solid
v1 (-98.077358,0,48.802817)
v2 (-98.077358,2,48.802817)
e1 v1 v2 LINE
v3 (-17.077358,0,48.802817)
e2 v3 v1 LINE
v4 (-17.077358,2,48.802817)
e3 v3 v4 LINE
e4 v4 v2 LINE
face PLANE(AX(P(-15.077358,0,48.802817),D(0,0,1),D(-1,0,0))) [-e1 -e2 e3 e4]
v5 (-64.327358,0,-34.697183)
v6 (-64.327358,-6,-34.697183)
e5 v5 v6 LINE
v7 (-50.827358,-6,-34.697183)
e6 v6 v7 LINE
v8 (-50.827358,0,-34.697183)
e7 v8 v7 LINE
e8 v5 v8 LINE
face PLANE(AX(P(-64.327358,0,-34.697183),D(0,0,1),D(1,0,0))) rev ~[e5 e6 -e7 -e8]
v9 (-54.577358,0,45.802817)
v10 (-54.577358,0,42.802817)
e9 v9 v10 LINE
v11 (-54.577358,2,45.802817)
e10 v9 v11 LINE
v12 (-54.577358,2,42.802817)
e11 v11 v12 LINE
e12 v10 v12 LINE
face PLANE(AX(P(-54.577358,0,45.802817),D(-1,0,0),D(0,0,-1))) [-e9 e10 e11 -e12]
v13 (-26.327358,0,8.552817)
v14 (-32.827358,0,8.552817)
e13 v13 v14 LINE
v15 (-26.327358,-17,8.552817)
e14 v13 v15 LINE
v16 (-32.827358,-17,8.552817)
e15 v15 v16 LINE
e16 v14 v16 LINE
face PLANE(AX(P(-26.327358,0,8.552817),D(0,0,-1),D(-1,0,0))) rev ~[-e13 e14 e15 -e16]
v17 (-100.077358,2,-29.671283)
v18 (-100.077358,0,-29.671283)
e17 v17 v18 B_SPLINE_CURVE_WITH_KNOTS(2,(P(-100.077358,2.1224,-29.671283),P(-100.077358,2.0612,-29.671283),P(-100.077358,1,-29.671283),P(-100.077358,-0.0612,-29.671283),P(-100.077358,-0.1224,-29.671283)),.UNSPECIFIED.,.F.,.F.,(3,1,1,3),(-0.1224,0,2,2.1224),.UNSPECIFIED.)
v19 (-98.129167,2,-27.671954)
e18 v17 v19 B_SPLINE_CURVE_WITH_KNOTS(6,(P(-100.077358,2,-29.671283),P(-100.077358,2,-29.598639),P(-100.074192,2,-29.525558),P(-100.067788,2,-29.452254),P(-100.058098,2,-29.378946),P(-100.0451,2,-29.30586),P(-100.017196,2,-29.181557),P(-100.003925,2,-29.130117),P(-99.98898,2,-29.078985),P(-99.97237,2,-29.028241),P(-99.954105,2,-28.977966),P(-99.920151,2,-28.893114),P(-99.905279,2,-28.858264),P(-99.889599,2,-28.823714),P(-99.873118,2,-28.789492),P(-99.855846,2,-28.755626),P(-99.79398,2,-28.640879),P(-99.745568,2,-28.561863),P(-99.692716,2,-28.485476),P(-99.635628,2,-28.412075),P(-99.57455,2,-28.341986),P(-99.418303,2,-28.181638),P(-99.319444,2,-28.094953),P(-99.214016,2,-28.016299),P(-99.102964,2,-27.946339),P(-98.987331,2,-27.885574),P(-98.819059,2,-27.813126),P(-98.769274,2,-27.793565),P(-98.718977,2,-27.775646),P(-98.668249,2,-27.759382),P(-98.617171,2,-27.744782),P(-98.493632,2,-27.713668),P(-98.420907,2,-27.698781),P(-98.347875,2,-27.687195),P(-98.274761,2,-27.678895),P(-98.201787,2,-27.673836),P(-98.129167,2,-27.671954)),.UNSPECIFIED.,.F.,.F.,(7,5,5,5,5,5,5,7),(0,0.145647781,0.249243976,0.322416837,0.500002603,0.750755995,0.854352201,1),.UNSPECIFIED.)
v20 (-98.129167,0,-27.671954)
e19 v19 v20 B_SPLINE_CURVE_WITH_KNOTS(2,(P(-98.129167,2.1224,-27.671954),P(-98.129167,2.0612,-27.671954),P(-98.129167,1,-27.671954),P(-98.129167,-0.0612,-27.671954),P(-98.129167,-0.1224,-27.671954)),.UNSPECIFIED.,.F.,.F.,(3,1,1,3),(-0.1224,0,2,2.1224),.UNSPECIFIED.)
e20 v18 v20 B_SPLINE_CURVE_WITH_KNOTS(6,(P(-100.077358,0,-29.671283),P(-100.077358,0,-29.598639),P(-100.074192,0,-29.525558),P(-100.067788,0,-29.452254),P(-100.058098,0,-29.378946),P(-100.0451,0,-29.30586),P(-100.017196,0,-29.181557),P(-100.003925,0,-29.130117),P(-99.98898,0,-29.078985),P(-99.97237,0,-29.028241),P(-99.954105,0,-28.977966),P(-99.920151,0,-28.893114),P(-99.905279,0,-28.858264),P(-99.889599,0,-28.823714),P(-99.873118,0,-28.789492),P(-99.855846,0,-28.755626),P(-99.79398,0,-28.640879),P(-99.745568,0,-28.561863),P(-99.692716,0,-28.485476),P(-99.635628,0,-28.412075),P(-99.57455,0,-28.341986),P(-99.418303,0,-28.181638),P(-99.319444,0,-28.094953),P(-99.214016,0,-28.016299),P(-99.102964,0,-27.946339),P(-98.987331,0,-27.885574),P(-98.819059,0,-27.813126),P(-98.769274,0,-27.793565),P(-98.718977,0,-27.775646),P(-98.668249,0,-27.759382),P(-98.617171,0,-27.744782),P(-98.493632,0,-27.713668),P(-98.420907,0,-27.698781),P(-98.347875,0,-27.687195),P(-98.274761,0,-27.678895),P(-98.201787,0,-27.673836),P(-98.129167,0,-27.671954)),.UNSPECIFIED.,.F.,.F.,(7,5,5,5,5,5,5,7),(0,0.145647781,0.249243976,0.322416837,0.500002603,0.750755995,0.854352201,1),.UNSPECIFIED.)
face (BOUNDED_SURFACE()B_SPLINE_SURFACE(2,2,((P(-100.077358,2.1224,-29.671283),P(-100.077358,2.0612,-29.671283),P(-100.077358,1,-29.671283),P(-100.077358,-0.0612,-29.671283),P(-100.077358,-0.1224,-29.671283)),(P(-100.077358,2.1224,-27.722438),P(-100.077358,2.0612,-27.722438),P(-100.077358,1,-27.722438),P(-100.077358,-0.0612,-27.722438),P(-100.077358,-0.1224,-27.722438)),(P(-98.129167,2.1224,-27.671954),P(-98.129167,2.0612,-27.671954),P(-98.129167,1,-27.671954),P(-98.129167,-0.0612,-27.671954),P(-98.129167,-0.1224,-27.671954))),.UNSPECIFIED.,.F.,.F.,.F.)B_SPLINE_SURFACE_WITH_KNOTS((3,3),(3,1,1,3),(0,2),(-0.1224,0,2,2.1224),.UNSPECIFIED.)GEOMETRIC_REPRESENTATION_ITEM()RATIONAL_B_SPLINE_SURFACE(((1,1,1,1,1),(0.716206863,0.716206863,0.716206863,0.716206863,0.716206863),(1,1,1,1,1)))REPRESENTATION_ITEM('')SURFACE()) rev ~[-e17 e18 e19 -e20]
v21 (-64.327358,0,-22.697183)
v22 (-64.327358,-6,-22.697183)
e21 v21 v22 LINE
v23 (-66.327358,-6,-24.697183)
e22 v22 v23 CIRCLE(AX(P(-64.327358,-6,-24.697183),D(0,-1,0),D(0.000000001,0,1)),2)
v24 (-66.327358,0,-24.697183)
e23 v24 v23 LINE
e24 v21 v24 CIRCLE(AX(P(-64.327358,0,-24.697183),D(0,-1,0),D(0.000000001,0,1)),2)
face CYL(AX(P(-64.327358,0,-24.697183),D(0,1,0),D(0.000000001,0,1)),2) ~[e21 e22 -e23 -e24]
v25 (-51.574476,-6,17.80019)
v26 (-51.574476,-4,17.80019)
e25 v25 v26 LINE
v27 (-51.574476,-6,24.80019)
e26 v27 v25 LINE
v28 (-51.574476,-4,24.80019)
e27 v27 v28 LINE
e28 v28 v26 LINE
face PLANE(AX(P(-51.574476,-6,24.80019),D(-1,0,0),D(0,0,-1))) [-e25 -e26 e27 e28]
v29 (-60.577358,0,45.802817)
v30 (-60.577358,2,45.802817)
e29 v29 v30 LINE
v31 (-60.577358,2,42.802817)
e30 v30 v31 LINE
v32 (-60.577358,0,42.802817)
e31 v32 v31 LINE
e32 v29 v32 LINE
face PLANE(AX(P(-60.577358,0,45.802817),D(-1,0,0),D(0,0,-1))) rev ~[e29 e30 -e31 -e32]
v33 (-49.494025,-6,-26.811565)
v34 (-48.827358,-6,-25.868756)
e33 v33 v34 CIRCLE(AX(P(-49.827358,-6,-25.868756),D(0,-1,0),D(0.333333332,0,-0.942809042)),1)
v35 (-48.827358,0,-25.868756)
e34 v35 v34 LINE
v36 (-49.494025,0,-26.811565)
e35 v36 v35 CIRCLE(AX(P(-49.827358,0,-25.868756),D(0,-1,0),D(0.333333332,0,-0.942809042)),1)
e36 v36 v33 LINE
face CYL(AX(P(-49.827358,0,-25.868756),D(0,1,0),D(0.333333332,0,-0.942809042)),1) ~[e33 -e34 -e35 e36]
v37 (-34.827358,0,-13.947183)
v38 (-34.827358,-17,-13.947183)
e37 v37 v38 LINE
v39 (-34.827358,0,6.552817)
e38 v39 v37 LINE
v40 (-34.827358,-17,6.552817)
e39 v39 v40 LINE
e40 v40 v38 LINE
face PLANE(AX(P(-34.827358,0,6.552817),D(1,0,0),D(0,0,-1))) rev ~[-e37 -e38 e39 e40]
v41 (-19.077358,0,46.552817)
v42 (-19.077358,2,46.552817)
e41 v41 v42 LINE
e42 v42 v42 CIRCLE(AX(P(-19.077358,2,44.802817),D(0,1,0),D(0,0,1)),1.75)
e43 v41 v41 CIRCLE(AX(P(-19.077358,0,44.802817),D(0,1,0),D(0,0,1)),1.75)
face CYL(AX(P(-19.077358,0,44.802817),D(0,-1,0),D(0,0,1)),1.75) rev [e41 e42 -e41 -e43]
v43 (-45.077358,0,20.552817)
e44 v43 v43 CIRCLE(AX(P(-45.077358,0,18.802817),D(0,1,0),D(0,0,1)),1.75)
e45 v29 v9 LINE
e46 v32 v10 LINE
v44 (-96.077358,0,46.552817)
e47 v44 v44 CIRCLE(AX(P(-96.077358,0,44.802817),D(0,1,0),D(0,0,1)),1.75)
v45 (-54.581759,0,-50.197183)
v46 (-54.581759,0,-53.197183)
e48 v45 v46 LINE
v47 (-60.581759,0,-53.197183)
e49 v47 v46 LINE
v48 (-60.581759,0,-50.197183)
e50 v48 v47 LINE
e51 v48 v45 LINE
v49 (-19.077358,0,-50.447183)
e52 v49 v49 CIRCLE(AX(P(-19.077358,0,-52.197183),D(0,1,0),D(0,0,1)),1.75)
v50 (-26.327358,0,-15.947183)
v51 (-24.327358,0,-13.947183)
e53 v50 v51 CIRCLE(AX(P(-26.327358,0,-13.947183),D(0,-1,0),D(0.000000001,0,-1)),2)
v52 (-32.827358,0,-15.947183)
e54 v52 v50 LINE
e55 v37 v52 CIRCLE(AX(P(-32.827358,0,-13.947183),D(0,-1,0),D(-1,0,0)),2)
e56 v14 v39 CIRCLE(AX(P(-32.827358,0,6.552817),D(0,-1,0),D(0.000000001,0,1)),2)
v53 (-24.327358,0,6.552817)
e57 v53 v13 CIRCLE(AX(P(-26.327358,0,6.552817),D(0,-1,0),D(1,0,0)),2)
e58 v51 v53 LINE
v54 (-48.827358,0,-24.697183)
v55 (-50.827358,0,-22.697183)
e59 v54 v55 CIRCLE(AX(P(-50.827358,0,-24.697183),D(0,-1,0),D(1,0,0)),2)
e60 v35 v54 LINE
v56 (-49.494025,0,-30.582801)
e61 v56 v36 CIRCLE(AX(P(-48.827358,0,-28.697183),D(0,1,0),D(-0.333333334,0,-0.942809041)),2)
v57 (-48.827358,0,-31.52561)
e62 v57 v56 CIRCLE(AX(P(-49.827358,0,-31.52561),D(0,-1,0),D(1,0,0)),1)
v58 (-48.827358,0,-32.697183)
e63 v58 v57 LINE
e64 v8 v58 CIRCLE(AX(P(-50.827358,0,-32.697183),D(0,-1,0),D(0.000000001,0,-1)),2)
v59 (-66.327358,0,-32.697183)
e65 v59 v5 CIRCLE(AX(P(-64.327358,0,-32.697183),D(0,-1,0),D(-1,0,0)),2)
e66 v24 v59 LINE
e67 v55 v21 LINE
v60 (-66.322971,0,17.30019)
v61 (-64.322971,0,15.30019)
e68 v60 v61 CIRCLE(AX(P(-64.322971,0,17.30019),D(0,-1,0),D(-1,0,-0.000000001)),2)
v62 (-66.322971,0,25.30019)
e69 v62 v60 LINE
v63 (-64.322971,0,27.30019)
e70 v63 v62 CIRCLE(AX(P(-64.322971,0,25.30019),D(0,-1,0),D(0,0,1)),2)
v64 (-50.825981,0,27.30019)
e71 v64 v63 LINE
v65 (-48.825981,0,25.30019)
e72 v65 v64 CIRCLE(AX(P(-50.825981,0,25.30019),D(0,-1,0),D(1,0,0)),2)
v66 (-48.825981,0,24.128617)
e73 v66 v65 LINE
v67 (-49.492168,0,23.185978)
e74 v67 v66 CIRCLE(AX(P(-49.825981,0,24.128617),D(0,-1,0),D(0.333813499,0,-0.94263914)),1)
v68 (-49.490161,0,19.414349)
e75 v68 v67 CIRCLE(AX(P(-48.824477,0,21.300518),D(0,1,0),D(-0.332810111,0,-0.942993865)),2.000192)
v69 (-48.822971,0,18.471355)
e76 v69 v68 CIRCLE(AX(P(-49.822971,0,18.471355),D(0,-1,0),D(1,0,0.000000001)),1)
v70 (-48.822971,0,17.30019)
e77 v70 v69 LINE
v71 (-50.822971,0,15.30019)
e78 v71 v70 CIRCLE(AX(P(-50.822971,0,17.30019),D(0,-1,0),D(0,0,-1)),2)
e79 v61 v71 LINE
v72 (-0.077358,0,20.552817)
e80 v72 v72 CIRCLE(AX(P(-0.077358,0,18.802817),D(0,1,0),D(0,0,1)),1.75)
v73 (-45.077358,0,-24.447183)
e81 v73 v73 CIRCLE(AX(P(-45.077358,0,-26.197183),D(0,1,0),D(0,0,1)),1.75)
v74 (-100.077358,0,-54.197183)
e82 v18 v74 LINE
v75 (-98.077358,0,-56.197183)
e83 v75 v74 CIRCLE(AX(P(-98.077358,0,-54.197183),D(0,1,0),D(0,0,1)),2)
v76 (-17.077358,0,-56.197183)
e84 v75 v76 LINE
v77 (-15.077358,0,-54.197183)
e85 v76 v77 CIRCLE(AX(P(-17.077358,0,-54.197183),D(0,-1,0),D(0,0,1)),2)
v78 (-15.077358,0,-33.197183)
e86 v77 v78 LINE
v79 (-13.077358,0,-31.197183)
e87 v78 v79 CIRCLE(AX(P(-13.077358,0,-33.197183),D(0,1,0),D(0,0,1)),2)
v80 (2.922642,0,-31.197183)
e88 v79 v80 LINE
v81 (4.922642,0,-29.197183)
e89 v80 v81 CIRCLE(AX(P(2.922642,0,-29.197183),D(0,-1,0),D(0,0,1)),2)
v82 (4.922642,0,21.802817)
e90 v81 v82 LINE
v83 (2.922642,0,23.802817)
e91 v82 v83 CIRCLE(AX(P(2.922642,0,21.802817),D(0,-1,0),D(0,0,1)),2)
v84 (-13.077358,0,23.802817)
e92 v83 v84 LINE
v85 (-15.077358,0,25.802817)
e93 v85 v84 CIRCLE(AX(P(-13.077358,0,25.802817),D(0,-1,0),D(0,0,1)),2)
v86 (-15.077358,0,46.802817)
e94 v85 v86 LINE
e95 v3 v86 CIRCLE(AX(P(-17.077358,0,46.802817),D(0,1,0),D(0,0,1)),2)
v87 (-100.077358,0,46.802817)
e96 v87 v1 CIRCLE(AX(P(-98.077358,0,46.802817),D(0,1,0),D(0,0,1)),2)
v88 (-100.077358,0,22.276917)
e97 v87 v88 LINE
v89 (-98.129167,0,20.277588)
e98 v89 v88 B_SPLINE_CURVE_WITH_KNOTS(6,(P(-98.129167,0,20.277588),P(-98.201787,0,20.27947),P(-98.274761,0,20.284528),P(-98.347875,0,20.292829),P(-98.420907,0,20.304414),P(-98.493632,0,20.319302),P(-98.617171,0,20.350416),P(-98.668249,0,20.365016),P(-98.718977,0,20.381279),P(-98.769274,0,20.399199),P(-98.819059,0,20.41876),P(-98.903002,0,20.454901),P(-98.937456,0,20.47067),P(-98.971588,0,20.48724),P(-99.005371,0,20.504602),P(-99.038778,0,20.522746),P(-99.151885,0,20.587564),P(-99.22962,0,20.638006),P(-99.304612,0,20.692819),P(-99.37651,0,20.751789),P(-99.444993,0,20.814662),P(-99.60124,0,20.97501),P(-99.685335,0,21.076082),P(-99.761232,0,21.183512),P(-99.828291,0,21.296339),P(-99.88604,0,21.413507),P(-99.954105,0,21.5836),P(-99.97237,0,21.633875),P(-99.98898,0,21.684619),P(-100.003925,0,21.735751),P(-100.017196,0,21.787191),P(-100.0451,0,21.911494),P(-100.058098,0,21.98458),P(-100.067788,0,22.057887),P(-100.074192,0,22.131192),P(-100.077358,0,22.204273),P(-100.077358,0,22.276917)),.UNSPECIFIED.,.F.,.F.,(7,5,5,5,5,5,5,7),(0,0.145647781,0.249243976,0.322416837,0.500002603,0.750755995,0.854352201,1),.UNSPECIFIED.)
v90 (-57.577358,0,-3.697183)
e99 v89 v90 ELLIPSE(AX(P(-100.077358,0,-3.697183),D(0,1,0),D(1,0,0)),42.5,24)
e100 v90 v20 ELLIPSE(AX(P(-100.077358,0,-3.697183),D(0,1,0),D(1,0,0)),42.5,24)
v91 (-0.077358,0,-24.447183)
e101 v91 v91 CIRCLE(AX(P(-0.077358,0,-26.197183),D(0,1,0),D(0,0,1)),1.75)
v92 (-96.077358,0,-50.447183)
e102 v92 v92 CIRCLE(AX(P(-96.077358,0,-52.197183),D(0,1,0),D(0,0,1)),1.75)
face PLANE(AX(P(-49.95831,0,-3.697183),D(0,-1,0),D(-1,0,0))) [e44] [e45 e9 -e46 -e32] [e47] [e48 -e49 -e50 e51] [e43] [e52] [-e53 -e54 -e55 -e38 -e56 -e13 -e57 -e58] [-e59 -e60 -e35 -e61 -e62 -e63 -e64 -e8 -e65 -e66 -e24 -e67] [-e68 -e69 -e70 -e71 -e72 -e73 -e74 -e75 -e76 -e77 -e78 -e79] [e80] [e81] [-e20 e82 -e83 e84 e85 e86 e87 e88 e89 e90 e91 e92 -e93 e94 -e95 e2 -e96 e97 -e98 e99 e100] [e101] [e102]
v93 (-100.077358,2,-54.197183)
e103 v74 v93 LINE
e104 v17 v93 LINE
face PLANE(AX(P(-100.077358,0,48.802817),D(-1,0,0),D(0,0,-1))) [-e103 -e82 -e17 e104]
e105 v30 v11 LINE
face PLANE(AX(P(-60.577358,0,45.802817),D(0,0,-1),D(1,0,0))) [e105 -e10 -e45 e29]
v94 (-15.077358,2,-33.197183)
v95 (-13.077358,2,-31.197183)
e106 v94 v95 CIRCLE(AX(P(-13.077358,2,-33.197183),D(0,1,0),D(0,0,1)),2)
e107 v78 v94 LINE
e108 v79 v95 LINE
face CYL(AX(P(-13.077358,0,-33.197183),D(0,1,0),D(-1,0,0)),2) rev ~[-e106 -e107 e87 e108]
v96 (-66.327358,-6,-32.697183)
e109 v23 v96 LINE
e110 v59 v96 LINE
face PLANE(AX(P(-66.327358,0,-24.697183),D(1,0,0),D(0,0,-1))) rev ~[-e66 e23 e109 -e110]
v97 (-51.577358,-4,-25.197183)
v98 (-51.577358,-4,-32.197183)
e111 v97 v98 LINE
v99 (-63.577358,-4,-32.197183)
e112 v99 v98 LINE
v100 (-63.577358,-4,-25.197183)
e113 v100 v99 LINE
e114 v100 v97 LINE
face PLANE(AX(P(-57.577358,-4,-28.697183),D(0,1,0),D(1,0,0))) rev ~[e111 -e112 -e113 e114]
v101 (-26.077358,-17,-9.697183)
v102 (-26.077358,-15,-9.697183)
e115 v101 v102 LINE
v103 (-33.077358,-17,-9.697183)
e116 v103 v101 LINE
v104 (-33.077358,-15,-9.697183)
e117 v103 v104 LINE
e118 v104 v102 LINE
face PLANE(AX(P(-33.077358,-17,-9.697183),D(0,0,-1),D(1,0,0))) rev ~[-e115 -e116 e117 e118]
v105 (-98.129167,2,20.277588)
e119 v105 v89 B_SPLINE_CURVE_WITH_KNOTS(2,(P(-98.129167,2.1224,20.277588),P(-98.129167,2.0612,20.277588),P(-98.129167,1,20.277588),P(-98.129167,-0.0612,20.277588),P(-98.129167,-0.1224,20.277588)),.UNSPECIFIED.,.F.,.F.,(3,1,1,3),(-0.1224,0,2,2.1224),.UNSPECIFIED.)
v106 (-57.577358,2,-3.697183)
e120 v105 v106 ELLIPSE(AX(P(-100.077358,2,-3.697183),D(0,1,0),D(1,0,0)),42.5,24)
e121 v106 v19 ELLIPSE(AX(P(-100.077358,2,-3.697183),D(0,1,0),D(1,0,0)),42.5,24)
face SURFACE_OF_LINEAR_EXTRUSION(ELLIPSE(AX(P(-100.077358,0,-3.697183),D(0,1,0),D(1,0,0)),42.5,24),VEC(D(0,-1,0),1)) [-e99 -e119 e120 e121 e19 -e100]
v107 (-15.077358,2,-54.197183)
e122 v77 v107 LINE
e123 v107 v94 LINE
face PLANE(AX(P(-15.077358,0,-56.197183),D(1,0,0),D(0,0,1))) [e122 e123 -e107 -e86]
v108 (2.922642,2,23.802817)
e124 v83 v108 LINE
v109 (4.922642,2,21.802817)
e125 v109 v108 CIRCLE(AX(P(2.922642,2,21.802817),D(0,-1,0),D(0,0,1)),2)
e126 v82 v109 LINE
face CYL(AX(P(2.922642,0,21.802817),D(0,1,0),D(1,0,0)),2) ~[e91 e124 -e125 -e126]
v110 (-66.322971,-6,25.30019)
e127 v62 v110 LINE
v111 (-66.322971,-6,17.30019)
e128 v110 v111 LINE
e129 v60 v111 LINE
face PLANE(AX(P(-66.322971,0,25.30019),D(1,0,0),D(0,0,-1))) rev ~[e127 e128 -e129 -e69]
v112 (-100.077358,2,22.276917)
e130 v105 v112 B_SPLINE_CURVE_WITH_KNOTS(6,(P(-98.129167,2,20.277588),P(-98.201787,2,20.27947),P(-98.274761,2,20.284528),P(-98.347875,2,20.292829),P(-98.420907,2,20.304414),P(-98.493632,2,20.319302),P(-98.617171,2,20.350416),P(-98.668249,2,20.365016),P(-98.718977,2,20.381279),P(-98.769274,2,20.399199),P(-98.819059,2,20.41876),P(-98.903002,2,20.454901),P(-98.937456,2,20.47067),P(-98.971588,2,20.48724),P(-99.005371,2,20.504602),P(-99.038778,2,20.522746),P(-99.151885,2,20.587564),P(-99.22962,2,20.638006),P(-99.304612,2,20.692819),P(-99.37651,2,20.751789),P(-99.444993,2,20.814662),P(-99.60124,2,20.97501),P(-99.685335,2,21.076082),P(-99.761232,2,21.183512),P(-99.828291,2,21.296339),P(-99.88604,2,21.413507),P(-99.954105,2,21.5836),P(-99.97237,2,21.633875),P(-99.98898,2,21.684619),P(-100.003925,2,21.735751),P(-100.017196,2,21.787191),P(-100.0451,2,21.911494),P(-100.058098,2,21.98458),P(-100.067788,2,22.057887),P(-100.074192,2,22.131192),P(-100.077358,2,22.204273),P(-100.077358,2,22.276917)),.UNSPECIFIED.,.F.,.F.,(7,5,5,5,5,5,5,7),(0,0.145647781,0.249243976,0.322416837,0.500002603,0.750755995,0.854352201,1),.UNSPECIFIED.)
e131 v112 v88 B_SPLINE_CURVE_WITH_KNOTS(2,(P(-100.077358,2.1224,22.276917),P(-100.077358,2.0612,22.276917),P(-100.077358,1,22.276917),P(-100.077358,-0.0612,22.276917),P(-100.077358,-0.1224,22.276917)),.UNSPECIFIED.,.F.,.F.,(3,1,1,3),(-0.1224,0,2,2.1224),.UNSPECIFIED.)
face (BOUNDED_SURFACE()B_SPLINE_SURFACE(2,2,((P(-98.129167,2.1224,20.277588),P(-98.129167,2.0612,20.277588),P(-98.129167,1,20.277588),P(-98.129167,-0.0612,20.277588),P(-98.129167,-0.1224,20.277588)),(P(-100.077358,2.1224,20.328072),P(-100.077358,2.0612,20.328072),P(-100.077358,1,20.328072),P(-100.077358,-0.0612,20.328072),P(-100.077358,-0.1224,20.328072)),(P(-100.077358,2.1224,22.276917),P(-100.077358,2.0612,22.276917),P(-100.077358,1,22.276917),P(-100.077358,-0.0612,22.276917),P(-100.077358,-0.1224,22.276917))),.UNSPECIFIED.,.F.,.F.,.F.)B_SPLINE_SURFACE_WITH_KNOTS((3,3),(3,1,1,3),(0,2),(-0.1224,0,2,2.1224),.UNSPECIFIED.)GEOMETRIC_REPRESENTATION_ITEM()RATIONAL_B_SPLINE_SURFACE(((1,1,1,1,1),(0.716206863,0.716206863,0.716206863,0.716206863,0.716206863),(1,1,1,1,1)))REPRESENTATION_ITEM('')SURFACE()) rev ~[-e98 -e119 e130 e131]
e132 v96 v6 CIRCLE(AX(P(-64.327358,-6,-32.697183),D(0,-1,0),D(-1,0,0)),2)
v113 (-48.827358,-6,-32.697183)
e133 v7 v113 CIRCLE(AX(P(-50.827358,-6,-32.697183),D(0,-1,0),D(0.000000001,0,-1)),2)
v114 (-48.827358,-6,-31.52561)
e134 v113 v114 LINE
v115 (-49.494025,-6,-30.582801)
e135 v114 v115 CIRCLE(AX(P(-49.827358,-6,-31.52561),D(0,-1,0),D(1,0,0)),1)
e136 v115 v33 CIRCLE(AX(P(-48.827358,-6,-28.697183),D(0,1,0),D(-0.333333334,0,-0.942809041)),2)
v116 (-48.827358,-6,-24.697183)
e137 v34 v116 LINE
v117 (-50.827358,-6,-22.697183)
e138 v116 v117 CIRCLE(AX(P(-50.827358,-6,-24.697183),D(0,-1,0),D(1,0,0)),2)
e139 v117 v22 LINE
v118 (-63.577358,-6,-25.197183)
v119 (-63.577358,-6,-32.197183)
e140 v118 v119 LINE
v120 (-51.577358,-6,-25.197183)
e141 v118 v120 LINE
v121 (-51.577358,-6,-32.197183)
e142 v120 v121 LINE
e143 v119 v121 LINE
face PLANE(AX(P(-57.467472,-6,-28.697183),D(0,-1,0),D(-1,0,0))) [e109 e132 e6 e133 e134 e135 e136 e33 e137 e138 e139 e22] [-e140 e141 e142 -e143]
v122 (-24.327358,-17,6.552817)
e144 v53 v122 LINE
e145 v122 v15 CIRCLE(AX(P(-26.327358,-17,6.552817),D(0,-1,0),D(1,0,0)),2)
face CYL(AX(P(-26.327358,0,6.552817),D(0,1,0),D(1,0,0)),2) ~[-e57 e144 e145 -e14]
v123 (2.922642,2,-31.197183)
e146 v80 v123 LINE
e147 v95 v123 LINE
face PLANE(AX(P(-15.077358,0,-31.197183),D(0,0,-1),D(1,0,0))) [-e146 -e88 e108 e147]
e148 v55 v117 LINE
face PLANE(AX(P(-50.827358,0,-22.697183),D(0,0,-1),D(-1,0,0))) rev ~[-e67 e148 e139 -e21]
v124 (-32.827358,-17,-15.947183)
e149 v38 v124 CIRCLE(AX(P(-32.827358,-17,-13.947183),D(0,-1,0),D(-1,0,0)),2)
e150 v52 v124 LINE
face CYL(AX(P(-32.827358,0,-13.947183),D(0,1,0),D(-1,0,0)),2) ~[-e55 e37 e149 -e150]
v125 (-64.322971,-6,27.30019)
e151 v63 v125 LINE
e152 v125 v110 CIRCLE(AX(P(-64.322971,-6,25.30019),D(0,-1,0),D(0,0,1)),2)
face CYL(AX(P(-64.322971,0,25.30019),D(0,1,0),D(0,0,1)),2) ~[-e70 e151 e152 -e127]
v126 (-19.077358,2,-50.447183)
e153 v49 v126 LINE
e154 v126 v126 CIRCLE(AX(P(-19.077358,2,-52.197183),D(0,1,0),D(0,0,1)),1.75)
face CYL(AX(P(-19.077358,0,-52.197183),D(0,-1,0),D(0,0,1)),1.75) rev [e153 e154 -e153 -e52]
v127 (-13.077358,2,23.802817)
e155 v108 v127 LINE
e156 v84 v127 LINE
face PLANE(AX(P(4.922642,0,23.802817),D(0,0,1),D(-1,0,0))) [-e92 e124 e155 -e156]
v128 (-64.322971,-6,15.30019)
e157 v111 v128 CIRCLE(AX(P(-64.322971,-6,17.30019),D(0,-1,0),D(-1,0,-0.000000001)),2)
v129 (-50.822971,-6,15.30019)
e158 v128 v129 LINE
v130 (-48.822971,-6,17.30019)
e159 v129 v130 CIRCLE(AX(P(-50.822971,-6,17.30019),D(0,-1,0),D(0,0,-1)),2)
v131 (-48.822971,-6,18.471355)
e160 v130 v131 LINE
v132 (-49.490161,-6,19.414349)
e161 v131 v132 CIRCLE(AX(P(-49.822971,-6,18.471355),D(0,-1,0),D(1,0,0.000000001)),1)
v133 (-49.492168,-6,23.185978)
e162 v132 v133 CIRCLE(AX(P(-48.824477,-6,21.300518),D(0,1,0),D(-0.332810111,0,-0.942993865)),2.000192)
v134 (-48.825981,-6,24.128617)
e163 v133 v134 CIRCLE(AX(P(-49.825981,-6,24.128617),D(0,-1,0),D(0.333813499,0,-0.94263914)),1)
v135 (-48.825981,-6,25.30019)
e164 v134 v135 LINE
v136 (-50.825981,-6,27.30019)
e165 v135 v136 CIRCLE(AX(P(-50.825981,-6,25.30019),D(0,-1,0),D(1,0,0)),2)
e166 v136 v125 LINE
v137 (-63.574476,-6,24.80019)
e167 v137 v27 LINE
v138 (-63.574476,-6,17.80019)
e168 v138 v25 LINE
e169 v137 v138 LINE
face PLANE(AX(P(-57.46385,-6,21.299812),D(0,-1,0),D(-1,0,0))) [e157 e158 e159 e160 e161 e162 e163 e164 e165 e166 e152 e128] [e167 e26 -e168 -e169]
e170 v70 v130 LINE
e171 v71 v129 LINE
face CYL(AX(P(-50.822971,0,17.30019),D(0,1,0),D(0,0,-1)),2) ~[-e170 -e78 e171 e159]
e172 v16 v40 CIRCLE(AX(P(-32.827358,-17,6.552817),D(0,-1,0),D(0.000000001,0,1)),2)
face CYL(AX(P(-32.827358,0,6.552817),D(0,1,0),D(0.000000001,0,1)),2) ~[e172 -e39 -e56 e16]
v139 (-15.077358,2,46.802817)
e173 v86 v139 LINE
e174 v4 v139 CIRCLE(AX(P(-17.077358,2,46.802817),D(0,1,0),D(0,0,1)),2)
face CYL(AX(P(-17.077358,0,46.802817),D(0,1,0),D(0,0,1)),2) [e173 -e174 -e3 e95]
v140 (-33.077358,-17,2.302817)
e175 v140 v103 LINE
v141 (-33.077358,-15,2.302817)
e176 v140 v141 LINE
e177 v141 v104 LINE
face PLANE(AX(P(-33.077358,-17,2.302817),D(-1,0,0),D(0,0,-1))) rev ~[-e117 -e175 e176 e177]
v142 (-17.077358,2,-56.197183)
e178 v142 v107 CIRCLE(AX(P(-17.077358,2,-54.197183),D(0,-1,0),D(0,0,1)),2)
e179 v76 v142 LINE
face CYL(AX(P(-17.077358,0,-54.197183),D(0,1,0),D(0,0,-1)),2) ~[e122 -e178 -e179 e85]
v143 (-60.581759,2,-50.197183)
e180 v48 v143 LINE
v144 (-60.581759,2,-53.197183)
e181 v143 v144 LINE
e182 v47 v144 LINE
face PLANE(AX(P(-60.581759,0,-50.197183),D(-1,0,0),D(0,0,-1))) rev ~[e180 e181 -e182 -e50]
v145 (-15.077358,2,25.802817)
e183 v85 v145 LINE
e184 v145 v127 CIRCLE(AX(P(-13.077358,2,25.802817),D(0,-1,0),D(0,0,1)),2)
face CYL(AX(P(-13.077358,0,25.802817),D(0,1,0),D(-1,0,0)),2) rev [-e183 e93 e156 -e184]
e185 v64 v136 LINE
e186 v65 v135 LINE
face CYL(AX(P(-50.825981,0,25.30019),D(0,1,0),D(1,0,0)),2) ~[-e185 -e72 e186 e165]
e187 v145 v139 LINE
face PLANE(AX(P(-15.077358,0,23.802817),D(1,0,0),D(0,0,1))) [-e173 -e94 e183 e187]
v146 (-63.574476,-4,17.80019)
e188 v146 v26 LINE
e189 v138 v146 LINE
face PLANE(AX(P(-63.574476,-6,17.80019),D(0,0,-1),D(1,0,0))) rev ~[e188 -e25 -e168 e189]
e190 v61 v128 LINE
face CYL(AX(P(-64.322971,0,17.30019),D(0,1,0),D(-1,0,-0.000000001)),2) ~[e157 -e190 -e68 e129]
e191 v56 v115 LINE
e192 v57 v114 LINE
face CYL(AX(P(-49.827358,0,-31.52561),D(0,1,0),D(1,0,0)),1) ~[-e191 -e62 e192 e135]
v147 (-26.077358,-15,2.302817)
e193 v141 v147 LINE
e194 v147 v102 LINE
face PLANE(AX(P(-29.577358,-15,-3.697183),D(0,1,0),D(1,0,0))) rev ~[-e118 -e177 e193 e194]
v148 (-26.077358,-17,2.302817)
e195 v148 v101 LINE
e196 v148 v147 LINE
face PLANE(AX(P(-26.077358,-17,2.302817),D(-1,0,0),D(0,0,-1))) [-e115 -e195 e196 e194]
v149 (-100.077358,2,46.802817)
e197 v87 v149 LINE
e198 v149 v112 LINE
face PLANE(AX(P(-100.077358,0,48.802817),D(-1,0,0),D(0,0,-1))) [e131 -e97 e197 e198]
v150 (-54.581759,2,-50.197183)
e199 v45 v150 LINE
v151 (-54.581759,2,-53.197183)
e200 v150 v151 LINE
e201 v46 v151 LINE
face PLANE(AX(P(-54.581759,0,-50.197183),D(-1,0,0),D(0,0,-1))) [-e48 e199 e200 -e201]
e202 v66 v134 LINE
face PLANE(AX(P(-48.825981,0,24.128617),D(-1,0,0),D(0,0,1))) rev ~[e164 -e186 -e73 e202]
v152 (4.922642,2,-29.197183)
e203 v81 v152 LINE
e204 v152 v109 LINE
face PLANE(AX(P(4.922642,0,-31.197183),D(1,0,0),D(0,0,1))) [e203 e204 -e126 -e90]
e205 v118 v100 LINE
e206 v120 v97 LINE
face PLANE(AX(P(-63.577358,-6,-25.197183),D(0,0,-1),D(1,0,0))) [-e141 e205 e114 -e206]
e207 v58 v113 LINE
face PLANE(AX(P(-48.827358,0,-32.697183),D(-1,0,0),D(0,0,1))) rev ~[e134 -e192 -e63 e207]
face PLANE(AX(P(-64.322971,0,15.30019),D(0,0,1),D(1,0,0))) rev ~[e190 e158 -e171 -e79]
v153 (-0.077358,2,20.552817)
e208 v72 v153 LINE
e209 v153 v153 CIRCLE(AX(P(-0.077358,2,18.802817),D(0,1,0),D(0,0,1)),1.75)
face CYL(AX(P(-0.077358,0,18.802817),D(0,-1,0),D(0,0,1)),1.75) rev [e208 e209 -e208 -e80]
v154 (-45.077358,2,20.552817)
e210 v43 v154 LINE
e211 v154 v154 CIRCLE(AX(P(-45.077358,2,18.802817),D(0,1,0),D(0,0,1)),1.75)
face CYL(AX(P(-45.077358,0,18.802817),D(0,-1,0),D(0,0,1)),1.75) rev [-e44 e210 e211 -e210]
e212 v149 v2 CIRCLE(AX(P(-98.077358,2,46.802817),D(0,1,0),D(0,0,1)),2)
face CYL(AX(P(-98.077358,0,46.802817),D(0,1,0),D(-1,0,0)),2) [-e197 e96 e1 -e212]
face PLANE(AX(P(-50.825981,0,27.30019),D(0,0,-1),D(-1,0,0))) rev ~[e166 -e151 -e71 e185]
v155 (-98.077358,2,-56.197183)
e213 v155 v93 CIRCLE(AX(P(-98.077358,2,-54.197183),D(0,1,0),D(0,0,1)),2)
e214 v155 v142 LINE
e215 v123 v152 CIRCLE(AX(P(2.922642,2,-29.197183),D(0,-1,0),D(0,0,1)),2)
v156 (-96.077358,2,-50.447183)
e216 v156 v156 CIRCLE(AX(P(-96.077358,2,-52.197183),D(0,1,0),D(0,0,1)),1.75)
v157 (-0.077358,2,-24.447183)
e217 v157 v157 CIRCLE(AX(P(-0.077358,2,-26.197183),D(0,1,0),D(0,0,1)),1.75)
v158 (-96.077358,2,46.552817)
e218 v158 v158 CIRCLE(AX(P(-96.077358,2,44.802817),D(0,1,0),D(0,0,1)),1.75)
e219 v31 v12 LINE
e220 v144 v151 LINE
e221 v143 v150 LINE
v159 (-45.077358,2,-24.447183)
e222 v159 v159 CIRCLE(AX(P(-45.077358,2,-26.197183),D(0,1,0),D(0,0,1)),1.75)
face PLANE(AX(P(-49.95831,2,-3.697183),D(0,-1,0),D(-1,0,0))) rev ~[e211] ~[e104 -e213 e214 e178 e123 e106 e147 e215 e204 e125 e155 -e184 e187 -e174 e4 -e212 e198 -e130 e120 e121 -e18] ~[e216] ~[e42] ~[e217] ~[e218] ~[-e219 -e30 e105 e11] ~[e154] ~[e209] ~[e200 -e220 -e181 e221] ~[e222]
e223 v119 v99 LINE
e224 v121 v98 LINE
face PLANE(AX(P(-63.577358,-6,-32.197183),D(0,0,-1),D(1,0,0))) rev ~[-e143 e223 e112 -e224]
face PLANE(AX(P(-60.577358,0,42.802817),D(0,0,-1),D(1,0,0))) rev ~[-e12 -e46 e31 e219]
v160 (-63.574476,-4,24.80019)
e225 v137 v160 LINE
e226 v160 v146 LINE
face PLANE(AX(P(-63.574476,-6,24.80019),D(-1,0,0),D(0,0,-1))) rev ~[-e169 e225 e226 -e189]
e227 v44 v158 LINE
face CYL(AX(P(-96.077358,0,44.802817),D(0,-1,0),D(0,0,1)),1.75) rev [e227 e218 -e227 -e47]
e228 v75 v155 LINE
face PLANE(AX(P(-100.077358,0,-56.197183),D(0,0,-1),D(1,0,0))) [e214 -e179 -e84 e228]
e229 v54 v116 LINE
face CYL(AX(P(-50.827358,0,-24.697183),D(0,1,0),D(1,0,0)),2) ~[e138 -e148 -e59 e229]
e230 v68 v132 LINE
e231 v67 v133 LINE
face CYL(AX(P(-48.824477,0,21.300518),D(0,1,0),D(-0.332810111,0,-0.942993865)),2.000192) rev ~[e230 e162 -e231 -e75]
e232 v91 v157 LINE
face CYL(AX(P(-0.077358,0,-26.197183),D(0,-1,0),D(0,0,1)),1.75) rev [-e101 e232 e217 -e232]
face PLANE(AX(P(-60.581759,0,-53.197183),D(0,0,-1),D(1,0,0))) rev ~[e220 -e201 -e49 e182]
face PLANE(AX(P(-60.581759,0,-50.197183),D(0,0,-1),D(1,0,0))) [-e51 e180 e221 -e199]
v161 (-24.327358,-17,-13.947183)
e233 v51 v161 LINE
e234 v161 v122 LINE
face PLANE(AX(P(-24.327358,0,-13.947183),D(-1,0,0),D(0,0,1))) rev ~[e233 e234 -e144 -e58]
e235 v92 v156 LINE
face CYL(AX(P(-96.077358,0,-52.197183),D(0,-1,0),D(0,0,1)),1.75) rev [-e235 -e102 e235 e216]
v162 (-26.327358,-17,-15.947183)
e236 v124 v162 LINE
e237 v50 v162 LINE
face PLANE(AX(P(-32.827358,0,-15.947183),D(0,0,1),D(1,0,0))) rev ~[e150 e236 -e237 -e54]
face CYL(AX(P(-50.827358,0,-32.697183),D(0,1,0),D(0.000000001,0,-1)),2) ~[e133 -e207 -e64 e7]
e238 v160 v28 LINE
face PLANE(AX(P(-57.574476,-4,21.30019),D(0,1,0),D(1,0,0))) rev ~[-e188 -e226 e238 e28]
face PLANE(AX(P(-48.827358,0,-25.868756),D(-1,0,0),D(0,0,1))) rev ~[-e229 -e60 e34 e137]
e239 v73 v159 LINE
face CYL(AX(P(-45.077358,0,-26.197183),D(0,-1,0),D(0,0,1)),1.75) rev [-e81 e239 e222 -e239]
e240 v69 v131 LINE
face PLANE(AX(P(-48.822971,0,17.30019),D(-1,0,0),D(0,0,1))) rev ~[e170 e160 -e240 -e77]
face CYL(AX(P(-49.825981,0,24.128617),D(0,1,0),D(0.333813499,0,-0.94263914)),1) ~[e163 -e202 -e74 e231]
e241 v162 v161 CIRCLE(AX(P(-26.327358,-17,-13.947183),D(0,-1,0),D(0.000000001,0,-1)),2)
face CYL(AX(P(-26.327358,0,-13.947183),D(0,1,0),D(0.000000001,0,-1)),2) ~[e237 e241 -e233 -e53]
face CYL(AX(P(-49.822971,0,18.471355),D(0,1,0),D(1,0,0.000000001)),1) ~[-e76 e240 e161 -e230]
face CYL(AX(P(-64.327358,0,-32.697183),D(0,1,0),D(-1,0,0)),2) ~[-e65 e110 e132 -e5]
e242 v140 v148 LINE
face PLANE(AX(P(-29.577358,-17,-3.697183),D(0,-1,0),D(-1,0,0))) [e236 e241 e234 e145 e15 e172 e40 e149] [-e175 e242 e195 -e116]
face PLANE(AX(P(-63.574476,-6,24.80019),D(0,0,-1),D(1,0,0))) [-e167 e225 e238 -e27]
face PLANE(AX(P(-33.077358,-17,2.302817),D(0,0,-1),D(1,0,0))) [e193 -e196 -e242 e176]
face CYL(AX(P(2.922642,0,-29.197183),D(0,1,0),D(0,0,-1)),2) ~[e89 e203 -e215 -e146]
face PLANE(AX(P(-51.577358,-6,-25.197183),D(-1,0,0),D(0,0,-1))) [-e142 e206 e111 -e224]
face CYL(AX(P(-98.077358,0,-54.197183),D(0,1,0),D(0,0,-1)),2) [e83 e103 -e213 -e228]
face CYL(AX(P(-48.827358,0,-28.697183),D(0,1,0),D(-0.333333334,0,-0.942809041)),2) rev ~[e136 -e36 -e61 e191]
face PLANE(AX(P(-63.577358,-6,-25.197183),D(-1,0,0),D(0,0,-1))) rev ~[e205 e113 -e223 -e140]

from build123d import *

# Parameters (mm, degrees)
SKETCH1_R           = 1.75
SKETCH1_W           = 6
SKETCH1_H           = 3
BOSS_EXTRUDE1_DEPTH = 2
BOSS_EXTRUDE2_DEPTH = 6
SKETCH4_RX          = 42.5
SKETCH4_RY          = 24
CUT_EXTRUDE1_DEPTH  = 2
BOSS_EXTRUDE3_DEPTH = 17
FILLET1_R           = 2
CUT_EXTRUDE2_START  = -6
SKETCH2_3_W         = 12
SKETCH2_3_H         = 7
CUT_EXTRUDE2_DEPTH  = 2
CUT_EXTRUDE3_START  = -17
SKETCH3_3_W         = 7
SKETCH3_3_H         = 12
CUT_EXTRUDE3_DEPTH  = 2


with BuildPart() as part:
    # Sketch1 → Boss-Extrude1 (new body)
    with BuildSketch(Plane(origin=(0, 0, 0), x_dir=(1, 0, 0), z_dir=(0, 1, 0))):
        Polygon((-100.077357964, 56.197183099), (-15.077357964, 56.197183099), (-15.077357964, 31.197183099), (4.922642036, 31.197183099), (4.922642036, -23.802816901), (-15.077357964, -23.802816901), (-15.077357964, -48.802816901), (-100.077357964, -48.802816901), align=None)
        with Locations(Location((-96.077357964, 52.197183099, 0), (0, 0, 270))):  # turned: the seam where the file's is
            Circle(SKETCH1_R, mode=Mode.SUBTRACT)
        with Locations(Location((-96.077357964, -44.802816901, 0), (0, 0, 270))):  # turned: the seam where the file's is
            Circle(SKETCH1_R, mode=Mode.SUBTRACT)
        with Locations(Location((-19.077357964, -44.802816901, 0), (0, 0, 270))):  # turned: the seam where the file's is
            Circle(SKETCH1_R, mode=Mode.SUBTRACT)
        with Locations(Location((-19.077357964, 52.197183099, 0), (0, 0, 270))):  # turned: the seam where the file's is
            Circle(SKETCH1_R, mode=Mode.SUBTRACT)
        with Locations(Location((-0.077357964, 26.197183099, 0), (0, 0, 270))):  # turned: the seam where the file's is
            Circle(SKETCH1_R, mode=Mode.SUBTRACT)
        with Locations(Location((-0.077357964, -18.802816901, 0), (0, 0, 270))):  # turned: the seam where the file's is
            Circle(SKETCH1_R, mode=Mode.SUBTRACT)
        with Locations(Location((-45.077357964, 26.197183099, 0), (0, 0, 270))):  # turned: the seam where the file's is
            Circle(SKETCH1_R, mode=Mode.SUBTRACT)
        with Locations(Location((-45.077357964, -18.802816901, 0), (0, 0, 270))):  # turned: the seam where the file's is
            Circle(SKETCH1_R, mode=Mode.SUBTRACT)
        with Locations((-57.581758556, 51.697183099)):
            Rectangle(SKETCH1_W, SKETCH1_H, mode=Mode.SUBTRACT)
        with Locations((-57.577357964, -44.302816901)):
            Rectangle(SKETCH1_W, SKETCH1_H, mode=Mode.SUBTRACT)
    extrude(amount=BOSS_EXTRUDE1_DEPTH)

    # Sketch2 → Boss-Extrude2 (add)
    with BuildSketch(Plane(origin=(0, 0, 0), x_dir=(1, 0, 0), z_dir=(0, 1, 0))):
        with BuildLine():
            Line((-48.827357964, 32.697183099), (-48.827357964, 31.525610223))
            ThreePointArc((-48.827357964, 31.525610223), (-49.010861383, 30.948259954), (-49.494024631, 30.582801182))
            ThreePointArc((-49.494024631, 30.582801182), (-50.827357964, 28.697183099), (-49.494024631, 26.811565015))
            ThreePointArc((-49.494024631, 26.811565015), (-49.010861383, 26.446106243), (-48.827357964, 25.868755974))
            Line((-48.827357964, 25.868755974), (-48.827357964, 24.697183099))
            ThreePointArc((-48.827357964, 24.697183099), (-49.413144402, 23.282969536), (-50.827357964, 22.697183099))
            Line((-50.827357964, 22.697183099), (-64.327357964, 22.697183099))
            ThreePointArc((-64.327357964, 22.697183099), (-65.741571527, 23.282969536), (-66.327357964, 24.697183099))
            Line((-66.327357964, 24.697183099), (-66.327357964, 32.697183099))
            ThreePointArc((-66.327357964, 32.697183099), (-65.741571527, 34.111396661), (-64.327357964, 34.697183099))
            Line((-64.327357964, 34.697183099), (-50.827357964, 34.697183099))
            ThreePointArc((-50.827357964, 34.697183099), (-49.413144402, 34.111396661), (-48.827357964, 32.697183099))
        make_face()
        with BuildLine():
            Line((-48.822971012, -17.300189586), (-48.822971012, -18.471355074))
            ThreePointArc((-48.822971012, -18.471355074), (-49.00663465, -19.04893186), (-49.4901609, -19.414348939))
            ThreePointArc((-49.4901609, -19.414348939), (-50.8246687, -21.299453668), (-49.492167868, -23.185977571))
            ThreePointArc((-49.492167868, -23.185977571), (-49.009337779, -23.551474397), (-48.825981367, -24.128616711))
            Line((-48.825981367, -24.128616711), (-48.825981367, -25.300189586))
            ThreePointArc((-48.825981367, -25.300189586), (-49.411767805, -26.714403149), (-50.825981367, -27.300189586))
            Line((-50.825981367, -27.300189586), (-64.322971012, -27.300189586))
            ThreePointArc((-64.322971012, -27.300189586), (-65.737184574, -26.714403149), (-66.322971012, -25.300189586))
            Line((-66.322971012, -25.300189586), (-66.322971012, -17.300189586))
            ThreePointArc((-66.322971012, -17.300189586), (-65.737184574, -15.885976024), (-64.322971012, -15.300189586))
            Line((-64.322971012, -15.300189586), (-50.822971012, -15.300189586))
            ThreePointArc((-50.822971012, -15.300189586), (-49.408757449, -15.885976024), (-48.822971012, -17.300189586))
        make_face()
    extrude(amount=-BOSS_EXTRUDE2_DEPTH)

    # Sketch4 → Cut-Extrude1 (cut)
    with BuildSketch(Plane(origin=(0, 0, 0), x_dir=(1, 0, 0), z_dir=(0, 1, 0))):
        with Locations(Location((-100.077357964, 3.697183099), (0, 0, 0))):
            Ellipse(SKETCH4_RX, SKETCH4_RY)
    extrude(amount=CUT_EXTRUDE1_DEPTH, mode=Mode.SUBTRACT)

    # Sketch3 → Boss-Extrude3 (add)
    with BuildSketch(Plane(origin=(0, 0, 0), x_dir=(1, 0, 0), z_dir=(0, 1, 0))):
        with BuildLine():
            Line((-32.827357964, 15.947183099), (-26.327357964, 15.947183099))
            ThreePointArc((-26.327357964, 15.947183099), (-24.913144402, 15.361396661), (-24.327357964, 13.947183099))
            Line((-24.327357964, 13.947183099), (-24.327357964, -6.552816901))
            ThreePointArc((-24.327357964, -6.552816901), (-24.913144402, -7.967030464), (-26.327357964, -8.552816901))
            Line((-26.327357964, -8.552816901), (-32.827357964, -8.552816901))
            ThreePointArc((-32.827357964, -8.552816901), (-34.241571527, -7.967030464), (-34.827357964, -6.552816901))
            Line((-34.827357964, -6.552816901), (-34.827357964, 13.947183099))
            ThreePointArc((-34.827357964, 13.947183099), (-34.241571527, 15.361396661), (-32.827357964, 15.947183099))
        make_face()
    extrude(amount=-BOSS_EXTRUDE3_DEPTH)

    # Fillet1
    fillet1_edges = [part.edges().sort_by_distance(p)[0] for p in [
        (-100.077357964, 1, -56.197183099),
        (-100.077357964, 1, -27.697183099),
        (-100.077357964, 1, 20.302816901),
        (-100.077357964, 1, 48.802816901),
        (-15.077357964, 1, 48.802816901),
        (-15.077357964, 1, 23.802816901),
        (4.922642036, 1, 23.802816901),
        (4.922642036, 1, -31.197183099),
        (-15.077357964, 1, -31.197183099),
        (-15.077357964, 1, -56.197183099),
    ]]
    fillet(fillet1_edges, radius=FILLET1_R)

    # Sketch2_3 → Cut-Extrude2 (cut)
    with BuildSketch(Plane(origin=(0, 0, 0), x_dir=(1, 0, 0), z_dir=(0, 1, 0)).offset(CUT_EXTRUDE2_START)):
        with Locations((-57.577357964, 28.697183099)):
            Rectangle(SKETCH2_3_W, SKETCH2_3_H)
        with Locations((-57.574476189, -21.300189586)):
            Rectangle(SKETCH2_3_W, SKETCH2_3_H)
    extrude(amount=CUT_EXTRUDE2_DEPTH, mode=Mode.SUBTRACT)

    # Sketch3_3 → Cut-Extrude3 (cut)
    with BuildSketch(Plane(origin=(0, 0, 0), x_dir=(1, 0, 0), z_dir=(0, 1, 0)).offset(CUT_EXTRUDE3_START)):
        with Locations((-29.577357964, 3.697183099)):
            Rectangle(SKETCH3_3_W, SKETCH3_3_H)
    extrude(amount=CUT_EXTRUDE3_DEPTH, mode=Mode.SUBTRACT)


solid = part.part
